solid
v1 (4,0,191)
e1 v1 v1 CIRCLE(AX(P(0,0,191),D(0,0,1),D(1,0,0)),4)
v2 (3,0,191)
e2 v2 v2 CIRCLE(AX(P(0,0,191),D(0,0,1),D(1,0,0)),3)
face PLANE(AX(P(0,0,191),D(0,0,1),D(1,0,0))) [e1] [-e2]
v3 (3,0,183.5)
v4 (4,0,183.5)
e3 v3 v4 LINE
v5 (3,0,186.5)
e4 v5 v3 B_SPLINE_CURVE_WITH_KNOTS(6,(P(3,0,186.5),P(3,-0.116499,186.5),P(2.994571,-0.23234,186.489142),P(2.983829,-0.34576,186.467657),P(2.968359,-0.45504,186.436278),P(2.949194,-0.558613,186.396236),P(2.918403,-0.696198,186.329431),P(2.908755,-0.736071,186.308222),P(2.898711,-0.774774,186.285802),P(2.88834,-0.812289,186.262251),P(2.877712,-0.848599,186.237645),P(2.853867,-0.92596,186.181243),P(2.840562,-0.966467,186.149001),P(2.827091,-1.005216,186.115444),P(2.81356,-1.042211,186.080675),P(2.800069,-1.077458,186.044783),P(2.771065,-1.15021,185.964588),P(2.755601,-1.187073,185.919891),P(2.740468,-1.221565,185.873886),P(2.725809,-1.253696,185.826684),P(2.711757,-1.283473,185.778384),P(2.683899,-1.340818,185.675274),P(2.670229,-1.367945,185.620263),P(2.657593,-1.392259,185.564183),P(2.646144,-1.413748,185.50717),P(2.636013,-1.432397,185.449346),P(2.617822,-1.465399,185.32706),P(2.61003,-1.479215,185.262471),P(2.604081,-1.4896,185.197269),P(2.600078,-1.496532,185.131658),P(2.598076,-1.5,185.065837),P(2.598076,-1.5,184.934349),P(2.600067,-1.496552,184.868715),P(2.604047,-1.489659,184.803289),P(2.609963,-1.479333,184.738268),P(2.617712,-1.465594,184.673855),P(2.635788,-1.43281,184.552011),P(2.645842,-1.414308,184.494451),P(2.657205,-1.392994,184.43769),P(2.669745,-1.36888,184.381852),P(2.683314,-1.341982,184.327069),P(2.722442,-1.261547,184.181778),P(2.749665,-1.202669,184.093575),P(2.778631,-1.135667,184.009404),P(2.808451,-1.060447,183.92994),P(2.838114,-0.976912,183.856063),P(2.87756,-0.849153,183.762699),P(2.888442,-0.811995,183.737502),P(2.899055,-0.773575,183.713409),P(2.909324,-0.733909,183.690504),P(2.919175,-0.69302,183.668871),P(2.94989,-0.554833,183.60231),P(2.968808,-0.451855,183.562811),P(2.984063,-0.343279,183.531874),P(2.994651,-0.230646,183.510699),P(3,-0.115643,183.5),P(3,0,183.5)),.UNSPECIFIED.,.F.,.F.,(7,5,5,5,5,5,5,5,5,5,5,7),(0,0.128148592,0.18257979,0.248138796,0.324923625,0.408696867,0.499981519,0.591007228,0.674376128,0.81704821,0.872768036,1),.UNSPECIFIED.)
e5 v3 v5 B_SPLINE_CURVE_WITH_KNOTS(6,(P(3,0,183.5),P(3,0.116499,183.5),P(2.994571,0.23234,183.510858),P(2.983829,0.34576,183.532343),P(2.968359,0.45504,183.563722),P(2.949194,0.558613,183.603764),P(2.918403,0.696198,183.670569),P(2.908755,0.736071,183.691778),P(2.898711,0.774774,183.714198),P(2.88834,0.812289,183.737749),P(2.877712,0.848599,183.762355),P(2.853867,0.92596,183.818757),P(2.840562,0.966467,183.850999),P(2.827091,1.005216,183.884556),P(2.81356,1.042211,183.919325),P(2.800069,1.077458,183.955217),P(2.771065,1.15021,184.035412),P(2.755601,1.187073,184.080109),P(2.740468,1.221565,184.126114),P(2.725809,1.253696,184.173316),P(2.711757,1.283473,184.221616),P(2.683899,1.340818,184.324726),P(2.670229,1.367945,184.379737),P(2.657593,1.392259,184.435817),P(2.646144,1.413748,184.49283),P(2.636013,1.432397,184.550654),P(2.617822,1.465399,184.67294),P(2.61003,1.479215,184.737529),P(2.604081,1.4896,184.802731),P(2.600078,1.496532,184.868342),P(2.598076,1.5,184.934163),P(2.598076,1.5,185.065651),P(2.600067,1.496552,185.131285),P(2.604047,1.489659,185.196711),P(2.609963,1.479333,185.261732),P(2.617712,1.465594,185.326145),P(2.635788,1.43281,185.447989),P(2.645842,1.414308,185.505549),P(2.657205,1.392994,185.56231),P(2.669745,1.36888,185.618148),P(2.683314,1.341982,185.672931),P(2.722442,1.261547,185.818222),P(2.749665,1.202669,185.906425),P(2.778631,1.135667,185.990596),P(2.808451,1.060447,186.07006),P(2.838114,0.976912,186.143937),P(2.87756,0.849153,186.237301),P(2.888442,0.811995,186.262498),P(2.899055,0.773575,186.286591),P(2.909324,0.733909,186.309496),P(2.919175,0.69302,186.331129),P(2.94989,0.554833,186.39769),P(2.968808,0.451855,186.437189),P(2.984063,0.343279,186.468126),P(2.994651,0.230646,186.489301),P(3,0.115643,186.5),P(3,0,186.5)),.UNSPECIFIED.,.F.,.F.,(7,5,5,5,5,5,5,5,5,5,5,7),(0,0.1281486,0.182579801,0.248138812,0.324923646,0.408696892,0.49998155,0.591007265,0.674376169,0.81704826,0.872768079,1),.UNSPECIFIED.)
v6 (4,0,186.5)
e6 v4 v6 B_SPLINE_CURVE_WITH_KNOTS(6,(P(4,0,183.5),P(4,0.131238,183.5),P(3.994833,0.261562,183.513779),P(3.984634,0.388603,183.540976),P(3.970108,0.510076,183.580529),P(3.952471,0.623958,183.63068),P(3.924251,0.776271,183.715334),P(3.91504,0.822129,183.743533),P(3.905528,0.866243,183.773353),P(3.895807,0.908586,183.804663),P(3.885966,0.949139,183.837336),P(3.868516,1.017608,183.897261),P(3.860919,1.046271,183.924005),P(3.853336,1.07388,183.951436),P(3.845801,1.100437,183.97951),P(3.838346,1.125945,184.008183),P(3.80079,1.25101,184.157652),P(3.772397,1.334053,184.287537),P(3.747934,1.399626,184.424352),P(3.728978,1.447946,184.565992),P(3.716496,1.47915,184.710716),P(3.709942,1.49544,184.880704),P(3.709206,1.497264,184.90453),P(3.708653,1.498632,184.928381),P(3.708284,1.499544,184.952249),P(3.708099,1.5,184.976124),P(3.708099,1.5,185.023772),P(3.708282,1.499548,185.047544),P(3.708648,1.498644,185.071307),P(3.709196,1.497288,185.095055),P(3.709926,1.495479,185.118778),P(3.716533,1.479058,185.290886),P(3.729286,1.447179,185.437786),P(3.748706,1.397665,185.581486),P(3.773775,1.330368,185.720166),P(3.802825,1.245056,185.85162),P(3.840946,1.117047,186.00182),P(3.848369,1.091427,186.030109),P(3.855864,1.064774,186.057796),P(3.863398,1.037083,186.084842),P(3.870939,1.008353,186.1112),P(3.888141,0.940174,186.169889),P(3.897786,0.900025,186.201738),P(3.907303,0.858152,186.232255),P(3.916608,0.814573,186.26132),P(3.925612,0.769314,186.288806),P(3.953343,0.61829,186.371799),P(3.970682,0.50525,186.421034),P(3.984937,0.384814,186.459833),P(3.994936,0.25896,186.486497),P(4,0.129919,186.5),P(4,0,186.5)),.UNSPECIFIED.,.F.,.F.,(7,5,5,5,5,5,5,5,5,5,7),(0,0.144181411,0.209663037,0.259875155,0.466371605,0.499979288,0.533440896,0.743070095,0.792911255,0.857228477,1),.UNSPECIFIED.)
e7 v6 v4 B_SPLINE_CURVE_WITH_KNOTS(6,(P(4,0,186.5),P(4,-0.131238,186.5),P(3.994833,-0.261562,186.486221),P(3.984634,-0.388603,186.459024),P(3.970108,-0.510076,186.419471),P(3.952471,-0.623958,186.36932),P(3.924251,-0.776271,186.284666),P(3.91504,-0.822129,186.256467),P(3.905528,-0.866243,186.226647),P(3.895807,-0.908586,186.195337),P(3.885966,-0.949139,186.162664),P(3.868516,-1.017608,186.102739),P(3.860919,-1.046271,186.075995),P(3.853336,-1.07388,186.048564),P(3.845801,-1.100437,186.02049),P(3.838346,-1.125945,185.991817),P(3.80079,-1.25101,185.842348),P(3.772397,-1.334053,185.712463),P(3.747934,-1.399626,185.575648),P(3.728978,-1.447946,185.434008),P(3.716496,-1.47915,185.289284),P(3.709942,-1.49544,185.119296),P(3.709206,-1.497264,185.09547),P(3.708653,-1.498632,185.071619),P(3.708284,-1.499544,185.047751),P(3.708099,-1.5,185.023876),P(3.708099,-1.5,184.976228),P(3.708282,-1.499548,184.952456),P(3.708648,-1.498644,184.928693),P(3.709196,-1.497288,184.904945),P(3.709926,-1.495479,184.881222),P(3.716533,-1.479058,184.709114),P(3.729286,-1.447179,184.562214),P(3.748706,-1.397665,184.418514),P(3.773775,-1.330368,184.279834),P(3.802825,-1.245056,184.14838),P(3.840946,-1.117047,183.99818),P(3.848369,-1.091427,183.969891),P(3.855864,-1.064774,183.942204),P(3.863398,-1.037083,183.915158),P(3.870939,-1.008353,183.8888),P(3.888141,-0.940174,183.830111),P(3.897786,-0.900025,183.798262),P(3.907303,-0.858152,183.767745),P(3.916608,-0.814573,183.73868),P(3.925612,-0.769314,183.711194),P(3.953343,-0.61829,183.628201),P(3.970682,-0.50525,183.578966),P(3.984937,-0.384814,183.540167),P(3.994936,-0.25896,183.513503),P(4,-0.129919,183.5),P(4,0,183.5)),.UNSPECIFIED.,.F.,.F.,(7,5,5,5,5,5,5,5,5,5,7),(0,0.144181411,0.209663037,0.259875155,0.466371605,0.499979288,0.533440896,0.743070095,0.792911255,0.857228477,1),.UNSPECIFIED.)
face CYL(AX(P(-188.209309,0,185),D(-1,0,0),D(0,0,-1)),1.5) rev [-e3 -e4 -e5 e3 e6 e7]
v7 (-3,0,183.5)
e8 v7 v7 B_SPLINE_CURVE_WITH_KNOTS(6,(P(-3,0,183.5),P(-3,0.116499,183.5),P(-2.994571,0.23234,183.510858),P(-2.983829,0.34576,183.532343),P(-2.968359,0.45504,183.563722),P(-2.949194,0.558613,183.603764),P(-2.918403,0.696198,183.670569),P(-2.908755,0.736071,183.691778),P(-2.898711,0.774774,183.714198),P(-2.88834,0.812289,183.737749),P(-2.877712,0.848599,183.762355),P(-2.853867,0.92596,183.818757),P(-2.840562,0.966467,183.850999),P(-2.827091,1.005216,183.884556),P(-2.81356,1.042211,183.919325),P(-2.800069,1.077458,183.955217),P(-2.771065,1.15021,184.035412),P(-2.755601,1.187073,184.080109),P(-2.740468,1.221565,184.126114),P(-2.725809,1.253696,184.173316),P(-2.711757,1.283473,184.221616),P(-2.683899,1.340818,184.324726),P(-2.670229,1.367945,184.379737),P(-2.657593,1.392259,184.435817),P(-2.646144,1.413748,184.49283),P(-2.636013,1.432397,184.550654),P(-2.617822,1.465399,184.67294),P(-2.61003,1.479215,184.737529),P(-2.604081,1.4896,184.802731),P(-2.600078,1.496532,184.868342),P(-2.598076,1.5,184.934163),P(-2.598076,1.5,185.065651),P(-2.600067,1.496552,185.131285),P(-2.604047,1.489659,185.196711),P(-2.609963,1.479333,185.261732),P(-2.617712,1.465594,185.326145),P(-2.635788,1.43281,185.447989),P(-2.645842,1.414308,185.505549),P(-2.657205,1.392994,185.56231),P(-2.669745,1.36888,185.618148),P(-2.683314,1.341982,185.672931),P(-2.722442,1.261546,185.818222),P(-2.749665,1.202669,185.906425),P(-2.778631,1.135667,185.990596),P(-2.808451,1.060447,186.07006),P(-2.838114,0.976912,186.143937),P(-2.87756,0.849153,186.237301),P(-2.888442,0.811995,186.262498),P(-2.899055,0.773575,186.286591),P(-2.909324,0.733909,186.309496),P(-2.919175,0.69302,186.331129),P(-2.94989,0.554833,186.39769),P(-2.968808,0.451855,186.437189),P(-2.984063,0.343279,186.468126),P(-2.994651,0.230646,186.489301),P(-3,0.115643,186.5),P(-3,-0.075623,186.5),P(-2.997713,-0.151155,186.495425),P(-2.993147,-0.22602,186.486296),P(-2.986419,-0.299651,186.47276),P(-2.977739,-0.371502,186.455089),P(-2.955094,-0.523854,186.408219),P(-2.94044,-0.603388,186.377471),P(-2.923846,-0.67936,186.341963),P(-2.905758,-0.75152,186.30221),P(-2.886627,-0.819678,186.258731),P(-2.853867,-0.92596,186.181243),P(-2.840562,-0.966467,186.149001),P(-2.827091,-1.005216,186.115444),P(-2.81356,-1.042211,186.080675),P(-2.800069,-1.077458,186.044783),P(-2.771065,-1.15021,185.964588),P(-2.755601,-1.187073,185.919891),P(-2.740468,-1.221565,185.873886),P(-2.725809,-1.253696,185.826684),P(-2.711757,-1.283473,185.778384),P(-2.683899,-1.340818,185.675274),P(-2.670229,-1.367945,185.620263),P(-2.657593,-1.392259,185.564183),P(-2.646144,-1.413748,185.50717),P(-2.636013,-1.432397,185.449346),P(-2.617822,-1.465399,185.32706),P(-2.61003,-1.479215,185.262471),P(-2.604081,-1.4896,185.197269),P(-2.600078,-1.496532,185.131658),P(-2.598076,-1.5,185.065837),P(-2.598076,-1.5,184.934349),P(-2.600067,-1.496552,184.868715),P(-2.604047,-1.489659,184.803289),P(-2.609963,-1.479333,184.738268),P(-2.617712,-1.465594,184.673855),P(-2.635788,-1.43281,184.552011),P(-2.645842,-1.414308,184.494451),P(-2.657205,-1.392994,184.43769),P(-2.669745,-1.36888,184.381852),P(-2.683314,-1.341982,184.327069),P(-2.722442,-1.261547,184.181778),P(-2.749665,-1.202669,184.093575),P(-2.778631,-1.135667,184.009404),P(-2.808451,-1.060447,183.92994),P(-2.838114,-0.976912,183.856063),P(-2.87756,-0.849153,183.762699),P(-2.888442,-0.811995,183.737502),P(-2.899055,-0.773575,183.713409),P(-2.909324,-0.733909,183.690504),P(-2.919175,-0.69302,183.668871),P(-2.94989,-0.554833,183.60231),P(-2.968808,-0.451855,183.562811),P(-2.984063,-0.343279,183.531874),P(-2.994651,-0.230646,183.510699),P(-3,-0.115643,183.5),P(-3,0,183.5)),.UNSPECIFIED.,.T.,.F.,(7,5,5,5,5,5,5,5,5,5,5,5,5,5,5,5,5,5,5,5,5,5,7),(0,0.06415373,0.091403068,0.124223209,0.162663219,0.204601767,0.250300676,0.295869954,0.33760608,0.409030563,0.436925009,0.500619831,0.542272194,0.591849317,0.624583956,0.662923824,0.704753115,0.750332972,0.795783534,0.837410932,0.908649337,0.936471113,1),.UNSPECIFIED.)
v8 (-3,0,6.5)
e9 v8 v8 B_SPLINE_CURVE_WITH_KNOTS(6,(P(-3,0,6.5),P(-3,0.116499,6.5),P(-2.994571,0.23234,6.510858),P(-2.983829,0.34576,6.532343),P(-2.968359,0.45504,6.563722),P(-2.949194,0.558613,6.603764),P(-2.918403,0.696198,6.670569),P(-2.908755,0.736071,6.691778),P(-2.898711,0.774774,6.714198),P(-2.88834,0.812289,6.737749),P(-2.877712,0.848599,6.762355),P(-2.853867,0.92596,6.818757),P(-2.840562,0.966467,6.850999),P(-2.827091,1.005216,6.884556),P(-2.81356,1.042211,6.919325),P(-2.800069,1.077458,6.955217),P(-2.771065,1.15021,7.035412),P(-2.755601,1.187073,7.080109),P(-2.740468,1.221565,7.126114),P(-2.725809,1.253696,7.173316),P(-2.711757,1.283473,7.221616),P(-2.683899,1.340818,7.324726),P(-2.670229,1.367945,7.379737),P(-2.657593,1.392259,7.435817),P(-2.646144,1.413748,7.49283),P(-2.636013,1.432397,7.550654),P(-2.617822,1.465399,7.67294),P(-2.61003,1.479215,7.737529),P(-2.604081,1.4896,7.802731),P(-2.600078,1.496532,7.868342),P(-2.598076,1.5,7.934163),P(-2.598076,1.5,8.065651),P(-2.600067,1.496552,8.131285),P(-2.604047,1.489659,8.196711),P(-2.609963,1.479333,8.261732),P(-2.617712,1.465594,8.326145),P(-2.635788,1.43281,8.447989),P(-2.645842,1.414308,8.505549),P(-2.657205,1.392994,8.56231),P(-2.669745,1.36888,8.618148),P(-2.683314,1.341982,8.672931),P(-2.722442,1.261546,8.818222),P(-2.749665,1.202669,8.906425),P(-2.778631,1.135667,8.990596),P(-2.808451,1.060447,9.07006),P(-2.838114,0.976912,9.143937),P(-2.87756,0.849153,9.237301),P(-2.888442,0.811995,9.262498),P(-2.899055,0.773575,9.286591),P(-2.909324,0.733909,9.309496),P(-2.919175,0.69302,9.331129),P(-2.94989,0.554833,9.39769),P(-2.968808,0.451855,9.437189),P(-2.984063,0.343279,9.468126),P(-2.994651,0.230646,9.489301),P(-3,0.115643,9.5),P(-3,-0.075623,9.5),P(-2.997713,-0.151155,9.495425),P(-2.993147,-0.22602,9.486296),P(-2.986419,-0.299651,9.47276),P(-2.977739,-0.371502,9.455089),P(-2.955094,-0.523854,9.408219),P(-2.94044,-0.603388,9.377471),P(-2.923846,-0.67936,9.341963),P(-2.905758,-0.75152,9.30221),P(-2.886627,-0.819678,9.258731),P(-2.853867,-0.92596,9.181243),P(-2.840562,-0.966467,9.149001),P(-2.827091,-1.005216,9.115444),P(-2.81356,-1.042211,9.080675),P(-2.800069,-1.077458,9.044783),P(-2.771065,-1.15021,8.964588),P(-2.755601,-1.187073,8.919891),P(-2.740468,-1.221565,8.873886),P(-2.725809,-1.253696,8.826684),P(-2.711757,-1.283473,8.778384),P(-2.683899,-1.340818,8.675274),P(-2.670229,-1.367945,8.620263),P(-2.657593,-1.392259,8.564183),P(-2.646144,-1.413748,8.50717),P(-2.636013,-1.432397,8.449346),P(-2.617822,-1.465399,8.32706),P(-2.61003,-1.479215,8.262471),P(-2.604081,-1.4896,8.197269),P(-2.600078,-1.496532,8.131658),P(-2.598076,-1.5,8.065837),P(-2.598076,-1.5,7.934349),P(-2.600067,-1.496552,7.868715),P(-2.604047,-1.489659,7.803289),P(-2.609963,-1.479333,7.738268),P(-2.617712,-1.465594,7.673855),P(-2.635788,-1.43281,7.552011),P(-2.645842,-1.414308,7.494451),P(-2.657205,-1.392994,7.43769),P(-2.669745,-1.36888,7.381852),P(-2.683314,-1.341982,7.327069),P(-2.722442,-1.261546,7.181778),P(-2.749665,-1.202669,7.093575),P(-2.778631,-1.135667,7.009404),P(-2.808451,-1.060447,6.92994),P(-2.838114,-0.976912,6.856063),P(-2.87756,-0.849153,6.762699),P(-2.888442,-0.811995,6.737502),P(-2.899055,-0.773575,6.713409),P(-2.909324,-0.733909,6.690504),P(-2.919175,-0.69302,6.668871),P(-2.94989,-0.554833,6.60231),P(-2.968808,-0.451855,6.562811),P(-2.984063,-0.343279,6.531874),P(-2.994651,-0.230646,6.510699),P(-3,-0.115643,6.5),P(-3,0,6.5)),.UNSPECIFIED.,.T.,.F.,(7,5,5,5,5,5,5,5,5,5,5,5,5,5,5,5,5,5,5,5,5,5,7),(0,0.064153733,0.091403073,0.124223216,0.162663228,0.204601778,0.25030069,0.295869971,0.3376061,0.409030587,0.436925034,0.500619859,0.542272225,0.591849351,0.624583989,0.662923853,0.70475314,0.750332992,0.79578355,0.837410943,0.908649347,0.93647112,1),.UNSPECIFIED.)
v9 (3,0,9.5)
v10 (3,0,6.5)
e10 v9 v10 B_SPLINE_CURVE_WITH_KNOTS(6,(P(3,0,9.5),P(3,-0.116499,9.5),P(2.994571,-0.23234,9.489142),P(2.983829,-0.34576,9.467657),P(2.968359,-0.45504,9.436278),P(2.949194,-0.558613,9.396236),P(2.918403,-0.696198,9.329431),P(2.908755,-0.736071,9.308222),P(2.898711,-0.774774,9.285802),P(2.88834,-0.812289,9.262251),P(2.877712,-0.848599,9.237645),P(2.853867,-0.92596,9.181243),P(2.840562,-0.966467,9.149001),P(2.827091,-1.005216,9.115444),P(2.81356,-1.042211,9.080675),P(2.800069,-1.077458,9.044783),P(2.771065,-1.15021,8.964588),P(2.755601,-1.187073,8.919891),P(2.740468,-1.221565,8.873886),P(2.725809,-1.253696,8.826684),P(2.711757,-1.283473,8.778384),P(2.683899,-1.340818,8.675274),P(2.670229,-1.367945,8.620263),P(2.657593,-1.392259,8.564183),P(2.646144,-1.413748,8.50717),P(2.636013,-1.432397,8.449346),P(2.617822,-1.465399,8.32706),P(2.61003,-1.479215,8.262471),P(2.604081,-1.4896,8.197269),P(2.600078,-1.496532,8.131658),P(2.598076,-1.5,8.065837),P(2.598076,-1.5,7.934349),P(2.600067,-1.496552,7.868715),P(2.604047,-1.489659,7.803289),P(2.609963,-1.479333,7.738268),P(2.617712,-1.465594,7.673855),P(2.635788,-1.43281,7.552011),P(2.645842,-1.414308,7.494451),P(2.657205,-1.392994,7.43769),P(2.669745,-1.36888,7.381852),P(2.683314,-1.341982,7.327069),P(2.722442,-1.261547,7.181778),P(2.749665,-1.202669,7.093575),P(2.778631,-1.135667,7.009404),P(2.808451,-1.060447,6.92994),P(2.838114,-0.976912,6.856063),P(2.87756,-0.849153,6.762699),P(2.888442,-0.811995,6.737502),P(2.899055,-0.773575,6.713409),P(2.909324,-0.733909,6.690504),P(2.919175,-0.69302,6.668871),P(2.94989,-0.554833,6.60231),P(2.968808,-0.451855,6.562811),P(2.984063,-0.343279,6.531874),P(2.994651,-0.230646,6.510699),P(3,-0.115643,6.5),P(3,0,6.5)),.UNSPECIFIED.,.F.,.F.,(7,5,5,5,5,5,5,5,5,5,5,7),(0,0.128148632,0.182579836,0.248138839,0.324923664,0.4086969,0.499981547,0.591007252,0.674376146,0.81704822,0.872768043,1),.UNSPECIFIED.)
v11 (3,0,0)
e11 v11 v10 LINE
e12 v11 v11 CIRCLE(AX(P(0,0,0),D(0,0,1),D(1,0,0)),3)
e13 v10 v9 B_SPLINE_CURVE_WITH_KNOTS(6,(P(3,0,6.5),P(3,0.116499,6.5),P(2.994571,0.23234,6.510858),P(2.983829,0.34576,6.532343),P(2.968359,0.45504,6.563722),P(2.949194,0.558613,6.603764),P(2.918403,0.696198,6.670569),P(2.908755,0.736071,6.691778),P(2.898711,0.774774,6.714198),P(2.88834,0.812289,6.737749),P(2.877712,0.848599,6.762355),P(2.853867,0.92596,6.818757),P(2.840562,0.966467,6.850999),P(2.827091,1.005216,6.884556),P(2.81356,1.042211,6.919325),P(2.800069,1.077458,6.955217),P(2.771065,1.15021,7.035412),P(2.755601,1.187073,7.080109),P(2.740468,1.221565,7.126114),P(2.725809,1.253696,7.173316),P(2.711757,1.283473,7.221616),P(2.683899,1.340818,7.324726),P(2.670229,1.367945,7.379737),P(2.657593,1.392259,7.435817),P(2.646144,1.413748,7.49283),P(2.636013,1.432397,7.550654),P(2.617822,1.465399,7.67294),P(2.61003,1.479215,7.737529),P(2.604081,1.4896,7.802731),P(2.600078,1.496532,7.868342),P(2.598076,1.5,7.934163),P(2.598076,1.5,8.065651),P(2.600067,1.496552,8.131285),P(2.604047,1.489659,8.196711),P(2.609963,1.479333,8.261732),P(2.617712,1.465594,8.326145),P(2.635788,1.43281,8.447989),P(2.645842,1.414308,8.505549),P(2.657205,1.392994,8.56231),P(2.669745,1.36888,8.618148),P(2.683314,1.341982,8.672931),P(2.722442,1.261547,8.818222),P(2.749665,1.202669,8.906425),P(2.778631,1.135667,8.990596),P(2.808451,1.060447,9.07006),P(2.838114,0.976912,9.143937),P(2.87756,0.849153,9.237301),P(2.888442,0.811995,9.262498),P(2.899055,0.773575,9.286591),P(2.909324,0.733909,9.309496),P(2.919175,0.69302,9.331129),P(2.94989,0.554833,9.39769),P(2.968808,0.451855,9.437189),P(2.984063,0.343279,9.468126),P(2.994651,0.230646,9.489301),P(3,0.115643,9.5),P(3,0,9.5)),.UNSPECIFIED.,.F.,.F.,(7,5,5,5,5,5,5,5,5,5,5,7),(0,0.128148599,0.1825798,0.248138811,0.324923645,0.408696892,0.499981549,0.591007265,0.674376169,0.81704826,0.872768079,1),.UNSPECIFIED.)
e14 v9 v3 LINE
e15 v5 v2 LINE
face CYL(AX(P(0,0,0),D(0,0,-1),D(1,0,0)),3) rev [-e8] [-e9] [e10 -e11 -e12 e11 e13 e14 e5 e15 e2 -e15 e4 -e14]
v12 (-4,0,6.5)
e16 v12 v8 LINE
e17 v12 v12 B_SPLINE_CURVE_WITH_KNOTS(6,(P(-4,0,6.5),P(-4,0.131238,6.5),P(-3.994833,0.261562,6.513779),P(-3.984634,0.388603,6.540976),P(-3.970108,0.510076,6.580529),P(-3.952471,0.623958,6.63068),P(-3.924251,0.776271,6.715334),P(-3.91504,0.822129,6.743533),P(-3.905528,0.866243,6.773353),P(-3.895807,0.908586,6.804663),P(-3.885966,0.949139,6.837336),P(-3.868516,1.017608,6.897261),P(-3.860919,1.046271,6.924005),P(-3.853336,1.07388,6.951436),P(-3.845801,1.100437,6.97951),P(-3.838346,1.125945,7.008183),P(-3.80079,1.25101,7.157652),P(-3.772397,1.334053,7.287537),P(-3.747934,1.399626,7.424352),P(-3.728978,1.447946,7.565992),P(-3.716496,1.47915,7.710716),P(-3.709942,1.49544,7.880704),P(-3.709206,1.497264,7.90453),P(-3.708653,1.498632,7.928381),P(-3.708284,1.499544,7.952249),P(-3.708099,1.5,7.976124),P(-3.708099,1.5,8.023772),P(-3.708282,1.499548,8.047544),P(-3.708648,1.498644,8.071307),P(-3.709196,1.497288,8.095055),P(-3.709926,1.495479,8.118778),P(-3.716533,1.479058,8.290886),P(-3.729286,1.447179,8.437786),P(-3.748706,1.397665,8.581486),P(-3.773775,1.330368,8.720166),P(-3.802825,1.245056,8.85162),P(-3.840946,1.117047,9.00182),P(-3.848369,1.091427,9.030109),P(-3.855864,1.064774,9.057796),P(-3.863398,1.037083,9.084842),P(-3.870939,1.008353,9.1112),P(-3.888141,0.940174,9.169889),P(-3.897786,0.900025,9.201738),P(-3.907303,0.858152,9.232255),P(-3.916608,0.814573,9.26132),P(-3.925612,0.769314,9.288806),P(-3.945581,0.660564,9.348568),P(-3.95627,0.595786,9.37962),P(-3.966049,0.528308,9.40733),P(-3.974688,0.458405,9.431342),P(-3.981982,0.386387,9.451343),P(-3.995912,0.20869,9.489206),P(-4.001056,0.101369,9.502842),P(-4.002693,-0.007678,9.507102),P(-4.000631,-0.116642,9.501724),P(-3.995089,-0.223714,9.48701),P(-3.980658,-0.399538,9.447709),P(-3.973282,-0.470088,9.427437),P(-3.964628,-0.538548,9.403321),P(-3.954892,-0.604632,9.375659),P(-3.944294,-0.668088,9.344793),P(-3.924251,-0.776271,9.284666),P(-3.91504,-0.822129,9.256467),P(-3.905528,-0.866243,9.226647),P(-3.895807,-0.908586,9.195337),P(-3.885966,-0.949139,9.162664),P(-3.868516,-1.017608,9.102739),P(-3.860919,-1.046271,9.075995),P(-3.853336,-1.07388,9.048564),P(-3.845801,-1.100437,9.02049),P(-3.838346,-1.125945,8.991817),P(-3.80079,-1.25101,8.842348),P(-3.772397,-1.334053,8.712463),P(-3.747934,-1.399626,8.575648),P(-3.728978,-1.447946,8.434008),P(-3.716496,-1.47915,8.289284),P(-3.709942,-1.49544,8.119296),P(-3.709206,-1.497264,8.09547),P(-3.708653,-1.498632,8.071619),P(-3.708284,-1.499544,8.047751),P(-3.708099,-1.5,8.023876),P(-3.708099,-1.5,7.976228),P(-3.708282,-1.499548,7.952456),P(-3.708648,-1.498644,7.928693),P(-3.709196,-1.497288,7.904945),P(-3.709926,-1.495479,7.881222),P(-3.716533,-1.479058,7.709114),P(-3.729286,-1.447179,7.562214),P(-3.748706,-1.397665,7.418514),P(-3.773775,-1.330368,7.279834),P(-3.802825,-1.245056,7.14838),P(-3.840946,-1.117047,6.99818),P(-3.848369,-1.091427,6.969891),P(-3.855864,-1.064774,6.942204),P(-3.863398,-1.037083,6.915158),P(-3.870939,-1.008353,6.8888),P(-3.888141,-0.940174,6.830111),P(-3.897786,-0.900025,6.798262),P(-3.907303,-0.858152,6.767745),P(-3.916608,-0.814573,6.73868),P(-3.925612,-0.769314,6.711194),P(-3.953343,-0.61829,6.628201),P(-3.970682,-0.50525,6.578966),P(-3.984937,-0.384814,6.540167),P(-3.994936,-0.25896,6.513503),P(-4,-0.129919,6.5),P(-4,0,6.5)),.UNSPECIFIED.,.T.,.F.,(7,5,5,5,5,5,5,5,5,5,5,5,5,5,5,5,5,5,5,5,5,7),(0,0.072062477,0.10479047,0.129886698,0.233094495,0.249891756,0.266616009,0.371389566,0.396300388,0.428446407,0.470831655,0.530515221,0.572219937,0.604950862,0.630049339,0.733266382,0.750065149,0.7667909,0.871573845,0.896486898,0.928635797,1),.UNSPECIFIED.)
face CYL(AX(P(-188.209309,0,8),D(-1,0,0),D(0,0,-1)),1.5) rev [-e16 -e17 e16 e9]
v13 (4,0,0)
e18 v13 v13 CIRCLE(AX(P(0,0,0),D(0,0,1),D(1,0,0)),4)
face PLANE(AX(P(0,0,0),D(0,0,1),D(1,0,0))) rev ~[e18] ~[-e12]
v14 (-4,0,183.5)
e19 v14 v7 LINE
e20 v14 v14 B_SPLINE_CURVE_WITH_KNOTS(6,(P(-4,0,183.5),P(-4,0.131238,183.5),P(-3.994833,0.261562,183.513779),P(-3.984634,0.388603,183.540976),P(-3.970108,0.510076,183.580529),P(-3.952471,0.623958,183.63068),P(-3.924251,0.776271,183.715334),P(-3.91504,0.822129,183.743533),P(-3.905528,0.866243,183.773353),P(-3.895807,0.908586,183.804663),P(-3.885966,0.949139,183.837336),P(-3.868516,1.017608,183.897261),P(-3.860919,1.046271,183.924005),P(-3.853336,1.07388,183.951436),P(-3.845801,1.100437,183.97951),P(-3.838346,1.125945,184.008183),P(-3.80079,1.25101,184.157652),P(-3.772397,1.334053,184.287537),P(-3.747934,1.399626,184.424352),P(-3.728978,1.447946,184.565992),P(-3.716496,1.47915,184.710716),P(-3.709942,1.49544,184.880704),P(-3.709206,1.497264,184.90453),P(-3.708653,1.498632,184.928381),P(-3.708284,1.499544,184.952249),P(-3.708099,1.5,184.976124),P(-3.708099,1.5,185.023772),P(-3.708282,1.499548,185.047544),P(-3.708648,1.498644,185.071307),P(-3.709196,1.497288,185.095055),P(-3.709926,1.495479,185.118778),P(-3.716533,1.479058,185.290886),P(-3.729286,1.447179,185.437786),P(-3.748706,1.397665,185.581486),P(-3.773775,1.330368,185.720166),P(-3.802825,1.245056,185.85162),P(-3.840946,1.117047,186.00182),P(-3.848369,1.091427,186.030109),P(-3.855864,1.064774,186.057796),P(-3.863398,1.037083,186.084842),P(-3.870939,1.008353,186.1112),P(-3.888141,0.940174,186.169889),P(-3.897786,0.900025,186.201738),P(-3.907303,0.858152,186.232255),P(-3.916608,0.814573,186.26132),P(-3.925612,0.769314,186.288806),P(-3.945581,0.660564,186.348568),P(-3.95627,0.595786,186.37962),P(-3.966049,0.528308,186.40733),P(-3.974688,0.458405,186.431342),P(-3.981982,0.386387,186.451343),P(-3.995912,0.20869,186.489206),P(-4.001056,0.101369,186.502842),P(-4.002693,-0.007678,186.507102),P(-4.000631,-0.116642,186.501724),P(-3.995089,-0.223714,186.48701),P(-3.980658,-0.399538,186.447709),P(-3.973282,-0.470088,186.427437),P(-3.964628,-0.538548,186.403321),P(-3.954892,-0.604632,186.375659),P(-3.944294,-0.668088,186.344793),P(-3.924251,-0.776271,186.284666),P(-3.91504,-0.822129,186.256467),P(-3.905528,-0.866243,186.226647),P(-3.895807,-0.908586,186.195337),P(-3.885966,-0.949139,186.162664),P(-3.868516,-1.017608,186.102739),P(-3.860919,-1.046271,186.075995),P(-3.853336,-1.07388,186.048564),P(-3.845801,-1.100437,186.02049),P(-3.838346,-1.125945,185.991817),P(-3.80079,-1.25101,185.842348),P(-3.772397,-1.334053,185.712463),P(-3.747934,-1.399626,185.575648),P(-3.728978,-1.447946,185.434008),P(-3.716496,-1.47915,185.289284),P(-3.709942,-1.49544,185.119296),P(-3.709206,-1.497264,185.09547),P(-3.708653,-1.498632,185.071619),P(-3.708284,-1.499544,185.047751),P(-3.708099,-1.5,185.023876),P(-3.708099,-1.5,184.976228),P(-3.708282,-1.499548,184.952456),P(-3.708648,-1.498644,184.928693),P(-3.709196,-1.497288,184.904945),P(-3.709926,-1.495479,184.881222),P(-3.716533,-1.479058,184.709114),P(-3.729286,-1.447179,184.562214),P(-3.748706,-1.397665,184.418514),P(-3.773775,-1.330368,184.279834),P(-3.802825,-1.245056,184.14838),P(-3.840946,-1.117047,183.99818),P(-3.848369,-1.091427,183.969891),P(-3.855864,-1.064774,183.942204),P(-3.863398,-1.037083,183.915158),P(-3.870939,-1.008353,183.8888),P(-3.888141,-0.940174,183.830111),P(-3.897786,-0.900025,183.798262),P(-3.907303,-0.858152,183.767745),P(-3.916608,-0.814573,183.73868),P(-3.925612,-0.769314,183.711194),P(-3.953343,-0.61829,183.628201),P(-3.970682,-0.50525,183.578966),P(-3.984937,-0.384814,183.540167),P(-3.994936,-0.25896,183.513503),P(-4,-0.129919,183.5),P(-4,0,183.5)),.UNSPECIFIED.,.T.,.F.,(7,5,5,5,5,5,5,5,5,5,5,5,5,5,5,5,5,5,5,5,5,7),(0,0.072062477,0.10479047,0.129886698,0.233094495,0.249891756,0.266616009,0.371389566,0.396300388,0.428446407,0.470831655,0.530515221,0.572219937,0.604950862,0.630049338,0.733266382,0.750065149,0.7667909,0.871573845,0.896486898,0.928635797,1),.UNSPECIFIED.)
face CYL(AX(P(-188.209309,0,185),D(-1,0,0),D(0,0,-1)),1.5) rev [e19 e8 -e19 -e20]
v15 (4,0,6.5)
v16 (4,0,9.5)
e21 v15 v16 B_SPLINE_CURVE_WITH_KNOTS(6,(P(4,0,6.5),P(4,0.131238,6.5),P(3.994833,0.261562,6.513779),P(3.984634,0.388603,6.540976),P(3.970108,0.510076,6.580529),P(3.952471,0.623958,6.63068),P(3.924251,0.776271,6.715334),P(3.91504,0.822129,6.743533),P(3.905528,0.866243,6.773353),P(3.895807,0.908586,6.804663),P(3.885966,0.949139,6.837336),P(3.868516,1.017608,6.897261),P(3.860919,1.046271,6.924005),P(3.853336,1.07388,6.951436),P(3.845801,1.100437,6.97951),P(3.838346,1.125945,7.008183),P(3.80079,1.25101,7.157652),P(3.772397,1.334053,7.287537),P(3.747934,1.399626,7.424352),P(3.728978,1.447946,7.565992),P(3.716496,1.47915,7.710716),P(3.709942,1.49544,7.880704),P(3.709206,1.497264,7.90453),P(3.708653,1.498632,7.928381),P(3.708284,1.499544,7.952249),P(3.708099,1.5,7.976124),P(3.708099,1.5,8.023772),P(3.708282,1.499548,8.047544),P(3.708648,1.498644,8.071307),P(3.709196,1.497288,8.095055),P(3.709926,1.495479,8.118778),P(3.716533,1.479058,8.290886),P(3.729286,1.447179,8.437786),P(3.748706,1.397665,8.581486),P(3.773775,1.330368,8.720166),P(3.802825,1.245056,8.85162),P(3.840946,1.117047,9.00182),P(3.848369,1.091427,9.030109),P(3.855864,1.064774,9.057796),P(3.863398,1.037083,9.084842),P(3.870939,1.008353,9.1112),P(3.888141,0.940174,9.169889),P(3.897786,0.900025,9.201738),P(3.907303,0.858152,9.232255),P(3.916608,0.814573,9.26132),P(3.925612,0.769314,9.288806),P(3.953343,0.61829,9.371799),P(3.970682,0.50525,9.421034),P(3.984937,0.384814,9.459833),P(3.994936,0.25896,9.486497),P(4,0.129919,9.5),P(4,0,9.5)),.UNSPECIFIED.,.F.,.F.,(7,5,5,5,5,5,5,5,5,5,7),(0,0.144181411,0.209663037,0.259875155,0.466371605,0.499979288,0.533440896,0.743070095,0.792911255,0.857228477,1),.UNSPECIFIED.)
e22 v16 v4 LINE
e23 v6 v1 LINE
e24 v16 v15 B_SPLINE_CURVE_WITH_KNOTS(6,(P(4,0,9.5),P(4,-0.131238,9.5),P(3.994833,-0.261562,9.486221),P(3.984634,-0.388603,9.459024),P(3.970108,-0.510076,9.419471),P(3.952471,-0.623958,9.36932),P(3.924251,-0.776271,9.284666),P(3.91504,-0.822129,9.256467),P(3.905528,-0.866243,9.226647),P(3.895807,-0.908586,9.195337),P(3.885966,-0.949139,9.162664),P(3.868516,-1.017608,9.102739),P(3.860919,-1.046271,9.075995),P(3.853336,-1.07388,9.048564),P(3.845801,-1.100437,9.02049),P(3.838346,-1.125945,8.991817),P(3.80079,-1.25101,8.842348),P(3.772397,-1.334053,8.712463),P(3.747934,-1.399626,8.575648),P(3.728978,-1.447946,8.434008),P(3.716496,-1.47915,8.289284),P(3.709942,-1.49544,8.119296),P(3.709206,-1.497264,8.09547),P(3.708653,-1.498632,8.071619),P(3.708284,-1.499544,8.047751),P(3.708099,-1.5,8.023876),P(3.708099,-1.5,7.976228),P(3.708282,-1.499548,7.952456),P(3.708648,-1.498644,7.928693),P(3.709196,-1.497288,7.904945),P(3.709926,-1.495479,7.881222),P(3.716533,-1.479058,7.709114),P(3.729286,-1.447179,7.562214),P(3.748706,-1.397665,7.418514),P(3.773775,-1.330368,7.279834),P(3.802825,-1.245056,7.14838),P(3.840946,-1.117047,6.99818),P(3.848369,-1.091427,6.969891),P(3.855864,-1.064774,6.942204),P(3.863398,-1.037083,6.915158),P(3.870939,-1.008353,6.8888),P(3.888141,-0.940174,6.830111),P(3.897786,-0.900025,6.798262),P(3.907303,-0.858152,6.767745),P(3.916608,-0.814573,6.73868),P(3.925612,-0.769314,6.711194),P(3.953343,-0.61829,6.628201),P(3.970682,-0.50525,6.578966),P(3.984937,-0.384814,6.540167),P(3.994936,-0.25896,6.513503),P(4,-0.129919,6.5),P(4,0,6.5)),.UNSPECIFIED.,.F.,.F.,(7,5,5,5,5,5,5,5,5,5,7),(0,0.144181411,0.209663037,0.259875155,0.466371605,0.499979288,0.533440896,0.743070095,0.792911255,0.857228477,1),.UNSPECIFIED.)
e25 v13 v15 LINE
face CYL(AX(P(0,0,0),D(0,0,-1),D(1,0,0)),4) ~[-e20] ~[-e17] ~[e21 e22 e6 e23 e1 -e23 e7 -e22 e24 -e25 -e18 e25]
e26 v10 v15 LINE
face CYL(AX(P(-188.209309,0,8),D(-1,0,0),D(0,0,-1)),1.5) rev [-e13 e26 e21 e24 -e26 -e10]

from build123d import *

# Parameters (mm, degrees)
SKETCH1_R               = 4
SKETCH1_R_2             = 3
BOSS_EXTRUDE1_DEPTH     = 191
CUT_EXTRUDE1_DEPTH      = 192.209309397
CUT_EXTRUDE1_DEPTH_BACK = 192.209309397
SKETCH3_R               = 1.5


with BuildPart() as part:
    # Sketch1 → Boss-Extrude1 (new body)
    with BuildSketch(Plane.XY):
        Circle(SKETCH1_R)
        Circle(SKETCH1_R_2, mode=Mode.SUBTRACT)
    extrude(amount=BOSS_EXTRUDE1_DEPTH)

    # Sketch3 → Cut-Extrude1 (cut, two sides: drawn at the far end of the back side and taken through both)
    with BuildSketch(Plane(origin=(4, 0, 0), x_dir=(0, 0, -1), z_dir=(1, 0, 0)).offset(-CUT_EXTRUDE1_DEPTH_BACK)):
        with Locations((-185, 0)):
            Circle(SKETCH3_R)
        with Locations((-8, 0)):
            Circle(SKETCH3_R)
    extrude(amount=CUT_EXTRUDE1_DEPTH + CUT_EXTRUDE1_DEPTH_BACK, mode=Mode.SUBTRACT)


solid = part.part
